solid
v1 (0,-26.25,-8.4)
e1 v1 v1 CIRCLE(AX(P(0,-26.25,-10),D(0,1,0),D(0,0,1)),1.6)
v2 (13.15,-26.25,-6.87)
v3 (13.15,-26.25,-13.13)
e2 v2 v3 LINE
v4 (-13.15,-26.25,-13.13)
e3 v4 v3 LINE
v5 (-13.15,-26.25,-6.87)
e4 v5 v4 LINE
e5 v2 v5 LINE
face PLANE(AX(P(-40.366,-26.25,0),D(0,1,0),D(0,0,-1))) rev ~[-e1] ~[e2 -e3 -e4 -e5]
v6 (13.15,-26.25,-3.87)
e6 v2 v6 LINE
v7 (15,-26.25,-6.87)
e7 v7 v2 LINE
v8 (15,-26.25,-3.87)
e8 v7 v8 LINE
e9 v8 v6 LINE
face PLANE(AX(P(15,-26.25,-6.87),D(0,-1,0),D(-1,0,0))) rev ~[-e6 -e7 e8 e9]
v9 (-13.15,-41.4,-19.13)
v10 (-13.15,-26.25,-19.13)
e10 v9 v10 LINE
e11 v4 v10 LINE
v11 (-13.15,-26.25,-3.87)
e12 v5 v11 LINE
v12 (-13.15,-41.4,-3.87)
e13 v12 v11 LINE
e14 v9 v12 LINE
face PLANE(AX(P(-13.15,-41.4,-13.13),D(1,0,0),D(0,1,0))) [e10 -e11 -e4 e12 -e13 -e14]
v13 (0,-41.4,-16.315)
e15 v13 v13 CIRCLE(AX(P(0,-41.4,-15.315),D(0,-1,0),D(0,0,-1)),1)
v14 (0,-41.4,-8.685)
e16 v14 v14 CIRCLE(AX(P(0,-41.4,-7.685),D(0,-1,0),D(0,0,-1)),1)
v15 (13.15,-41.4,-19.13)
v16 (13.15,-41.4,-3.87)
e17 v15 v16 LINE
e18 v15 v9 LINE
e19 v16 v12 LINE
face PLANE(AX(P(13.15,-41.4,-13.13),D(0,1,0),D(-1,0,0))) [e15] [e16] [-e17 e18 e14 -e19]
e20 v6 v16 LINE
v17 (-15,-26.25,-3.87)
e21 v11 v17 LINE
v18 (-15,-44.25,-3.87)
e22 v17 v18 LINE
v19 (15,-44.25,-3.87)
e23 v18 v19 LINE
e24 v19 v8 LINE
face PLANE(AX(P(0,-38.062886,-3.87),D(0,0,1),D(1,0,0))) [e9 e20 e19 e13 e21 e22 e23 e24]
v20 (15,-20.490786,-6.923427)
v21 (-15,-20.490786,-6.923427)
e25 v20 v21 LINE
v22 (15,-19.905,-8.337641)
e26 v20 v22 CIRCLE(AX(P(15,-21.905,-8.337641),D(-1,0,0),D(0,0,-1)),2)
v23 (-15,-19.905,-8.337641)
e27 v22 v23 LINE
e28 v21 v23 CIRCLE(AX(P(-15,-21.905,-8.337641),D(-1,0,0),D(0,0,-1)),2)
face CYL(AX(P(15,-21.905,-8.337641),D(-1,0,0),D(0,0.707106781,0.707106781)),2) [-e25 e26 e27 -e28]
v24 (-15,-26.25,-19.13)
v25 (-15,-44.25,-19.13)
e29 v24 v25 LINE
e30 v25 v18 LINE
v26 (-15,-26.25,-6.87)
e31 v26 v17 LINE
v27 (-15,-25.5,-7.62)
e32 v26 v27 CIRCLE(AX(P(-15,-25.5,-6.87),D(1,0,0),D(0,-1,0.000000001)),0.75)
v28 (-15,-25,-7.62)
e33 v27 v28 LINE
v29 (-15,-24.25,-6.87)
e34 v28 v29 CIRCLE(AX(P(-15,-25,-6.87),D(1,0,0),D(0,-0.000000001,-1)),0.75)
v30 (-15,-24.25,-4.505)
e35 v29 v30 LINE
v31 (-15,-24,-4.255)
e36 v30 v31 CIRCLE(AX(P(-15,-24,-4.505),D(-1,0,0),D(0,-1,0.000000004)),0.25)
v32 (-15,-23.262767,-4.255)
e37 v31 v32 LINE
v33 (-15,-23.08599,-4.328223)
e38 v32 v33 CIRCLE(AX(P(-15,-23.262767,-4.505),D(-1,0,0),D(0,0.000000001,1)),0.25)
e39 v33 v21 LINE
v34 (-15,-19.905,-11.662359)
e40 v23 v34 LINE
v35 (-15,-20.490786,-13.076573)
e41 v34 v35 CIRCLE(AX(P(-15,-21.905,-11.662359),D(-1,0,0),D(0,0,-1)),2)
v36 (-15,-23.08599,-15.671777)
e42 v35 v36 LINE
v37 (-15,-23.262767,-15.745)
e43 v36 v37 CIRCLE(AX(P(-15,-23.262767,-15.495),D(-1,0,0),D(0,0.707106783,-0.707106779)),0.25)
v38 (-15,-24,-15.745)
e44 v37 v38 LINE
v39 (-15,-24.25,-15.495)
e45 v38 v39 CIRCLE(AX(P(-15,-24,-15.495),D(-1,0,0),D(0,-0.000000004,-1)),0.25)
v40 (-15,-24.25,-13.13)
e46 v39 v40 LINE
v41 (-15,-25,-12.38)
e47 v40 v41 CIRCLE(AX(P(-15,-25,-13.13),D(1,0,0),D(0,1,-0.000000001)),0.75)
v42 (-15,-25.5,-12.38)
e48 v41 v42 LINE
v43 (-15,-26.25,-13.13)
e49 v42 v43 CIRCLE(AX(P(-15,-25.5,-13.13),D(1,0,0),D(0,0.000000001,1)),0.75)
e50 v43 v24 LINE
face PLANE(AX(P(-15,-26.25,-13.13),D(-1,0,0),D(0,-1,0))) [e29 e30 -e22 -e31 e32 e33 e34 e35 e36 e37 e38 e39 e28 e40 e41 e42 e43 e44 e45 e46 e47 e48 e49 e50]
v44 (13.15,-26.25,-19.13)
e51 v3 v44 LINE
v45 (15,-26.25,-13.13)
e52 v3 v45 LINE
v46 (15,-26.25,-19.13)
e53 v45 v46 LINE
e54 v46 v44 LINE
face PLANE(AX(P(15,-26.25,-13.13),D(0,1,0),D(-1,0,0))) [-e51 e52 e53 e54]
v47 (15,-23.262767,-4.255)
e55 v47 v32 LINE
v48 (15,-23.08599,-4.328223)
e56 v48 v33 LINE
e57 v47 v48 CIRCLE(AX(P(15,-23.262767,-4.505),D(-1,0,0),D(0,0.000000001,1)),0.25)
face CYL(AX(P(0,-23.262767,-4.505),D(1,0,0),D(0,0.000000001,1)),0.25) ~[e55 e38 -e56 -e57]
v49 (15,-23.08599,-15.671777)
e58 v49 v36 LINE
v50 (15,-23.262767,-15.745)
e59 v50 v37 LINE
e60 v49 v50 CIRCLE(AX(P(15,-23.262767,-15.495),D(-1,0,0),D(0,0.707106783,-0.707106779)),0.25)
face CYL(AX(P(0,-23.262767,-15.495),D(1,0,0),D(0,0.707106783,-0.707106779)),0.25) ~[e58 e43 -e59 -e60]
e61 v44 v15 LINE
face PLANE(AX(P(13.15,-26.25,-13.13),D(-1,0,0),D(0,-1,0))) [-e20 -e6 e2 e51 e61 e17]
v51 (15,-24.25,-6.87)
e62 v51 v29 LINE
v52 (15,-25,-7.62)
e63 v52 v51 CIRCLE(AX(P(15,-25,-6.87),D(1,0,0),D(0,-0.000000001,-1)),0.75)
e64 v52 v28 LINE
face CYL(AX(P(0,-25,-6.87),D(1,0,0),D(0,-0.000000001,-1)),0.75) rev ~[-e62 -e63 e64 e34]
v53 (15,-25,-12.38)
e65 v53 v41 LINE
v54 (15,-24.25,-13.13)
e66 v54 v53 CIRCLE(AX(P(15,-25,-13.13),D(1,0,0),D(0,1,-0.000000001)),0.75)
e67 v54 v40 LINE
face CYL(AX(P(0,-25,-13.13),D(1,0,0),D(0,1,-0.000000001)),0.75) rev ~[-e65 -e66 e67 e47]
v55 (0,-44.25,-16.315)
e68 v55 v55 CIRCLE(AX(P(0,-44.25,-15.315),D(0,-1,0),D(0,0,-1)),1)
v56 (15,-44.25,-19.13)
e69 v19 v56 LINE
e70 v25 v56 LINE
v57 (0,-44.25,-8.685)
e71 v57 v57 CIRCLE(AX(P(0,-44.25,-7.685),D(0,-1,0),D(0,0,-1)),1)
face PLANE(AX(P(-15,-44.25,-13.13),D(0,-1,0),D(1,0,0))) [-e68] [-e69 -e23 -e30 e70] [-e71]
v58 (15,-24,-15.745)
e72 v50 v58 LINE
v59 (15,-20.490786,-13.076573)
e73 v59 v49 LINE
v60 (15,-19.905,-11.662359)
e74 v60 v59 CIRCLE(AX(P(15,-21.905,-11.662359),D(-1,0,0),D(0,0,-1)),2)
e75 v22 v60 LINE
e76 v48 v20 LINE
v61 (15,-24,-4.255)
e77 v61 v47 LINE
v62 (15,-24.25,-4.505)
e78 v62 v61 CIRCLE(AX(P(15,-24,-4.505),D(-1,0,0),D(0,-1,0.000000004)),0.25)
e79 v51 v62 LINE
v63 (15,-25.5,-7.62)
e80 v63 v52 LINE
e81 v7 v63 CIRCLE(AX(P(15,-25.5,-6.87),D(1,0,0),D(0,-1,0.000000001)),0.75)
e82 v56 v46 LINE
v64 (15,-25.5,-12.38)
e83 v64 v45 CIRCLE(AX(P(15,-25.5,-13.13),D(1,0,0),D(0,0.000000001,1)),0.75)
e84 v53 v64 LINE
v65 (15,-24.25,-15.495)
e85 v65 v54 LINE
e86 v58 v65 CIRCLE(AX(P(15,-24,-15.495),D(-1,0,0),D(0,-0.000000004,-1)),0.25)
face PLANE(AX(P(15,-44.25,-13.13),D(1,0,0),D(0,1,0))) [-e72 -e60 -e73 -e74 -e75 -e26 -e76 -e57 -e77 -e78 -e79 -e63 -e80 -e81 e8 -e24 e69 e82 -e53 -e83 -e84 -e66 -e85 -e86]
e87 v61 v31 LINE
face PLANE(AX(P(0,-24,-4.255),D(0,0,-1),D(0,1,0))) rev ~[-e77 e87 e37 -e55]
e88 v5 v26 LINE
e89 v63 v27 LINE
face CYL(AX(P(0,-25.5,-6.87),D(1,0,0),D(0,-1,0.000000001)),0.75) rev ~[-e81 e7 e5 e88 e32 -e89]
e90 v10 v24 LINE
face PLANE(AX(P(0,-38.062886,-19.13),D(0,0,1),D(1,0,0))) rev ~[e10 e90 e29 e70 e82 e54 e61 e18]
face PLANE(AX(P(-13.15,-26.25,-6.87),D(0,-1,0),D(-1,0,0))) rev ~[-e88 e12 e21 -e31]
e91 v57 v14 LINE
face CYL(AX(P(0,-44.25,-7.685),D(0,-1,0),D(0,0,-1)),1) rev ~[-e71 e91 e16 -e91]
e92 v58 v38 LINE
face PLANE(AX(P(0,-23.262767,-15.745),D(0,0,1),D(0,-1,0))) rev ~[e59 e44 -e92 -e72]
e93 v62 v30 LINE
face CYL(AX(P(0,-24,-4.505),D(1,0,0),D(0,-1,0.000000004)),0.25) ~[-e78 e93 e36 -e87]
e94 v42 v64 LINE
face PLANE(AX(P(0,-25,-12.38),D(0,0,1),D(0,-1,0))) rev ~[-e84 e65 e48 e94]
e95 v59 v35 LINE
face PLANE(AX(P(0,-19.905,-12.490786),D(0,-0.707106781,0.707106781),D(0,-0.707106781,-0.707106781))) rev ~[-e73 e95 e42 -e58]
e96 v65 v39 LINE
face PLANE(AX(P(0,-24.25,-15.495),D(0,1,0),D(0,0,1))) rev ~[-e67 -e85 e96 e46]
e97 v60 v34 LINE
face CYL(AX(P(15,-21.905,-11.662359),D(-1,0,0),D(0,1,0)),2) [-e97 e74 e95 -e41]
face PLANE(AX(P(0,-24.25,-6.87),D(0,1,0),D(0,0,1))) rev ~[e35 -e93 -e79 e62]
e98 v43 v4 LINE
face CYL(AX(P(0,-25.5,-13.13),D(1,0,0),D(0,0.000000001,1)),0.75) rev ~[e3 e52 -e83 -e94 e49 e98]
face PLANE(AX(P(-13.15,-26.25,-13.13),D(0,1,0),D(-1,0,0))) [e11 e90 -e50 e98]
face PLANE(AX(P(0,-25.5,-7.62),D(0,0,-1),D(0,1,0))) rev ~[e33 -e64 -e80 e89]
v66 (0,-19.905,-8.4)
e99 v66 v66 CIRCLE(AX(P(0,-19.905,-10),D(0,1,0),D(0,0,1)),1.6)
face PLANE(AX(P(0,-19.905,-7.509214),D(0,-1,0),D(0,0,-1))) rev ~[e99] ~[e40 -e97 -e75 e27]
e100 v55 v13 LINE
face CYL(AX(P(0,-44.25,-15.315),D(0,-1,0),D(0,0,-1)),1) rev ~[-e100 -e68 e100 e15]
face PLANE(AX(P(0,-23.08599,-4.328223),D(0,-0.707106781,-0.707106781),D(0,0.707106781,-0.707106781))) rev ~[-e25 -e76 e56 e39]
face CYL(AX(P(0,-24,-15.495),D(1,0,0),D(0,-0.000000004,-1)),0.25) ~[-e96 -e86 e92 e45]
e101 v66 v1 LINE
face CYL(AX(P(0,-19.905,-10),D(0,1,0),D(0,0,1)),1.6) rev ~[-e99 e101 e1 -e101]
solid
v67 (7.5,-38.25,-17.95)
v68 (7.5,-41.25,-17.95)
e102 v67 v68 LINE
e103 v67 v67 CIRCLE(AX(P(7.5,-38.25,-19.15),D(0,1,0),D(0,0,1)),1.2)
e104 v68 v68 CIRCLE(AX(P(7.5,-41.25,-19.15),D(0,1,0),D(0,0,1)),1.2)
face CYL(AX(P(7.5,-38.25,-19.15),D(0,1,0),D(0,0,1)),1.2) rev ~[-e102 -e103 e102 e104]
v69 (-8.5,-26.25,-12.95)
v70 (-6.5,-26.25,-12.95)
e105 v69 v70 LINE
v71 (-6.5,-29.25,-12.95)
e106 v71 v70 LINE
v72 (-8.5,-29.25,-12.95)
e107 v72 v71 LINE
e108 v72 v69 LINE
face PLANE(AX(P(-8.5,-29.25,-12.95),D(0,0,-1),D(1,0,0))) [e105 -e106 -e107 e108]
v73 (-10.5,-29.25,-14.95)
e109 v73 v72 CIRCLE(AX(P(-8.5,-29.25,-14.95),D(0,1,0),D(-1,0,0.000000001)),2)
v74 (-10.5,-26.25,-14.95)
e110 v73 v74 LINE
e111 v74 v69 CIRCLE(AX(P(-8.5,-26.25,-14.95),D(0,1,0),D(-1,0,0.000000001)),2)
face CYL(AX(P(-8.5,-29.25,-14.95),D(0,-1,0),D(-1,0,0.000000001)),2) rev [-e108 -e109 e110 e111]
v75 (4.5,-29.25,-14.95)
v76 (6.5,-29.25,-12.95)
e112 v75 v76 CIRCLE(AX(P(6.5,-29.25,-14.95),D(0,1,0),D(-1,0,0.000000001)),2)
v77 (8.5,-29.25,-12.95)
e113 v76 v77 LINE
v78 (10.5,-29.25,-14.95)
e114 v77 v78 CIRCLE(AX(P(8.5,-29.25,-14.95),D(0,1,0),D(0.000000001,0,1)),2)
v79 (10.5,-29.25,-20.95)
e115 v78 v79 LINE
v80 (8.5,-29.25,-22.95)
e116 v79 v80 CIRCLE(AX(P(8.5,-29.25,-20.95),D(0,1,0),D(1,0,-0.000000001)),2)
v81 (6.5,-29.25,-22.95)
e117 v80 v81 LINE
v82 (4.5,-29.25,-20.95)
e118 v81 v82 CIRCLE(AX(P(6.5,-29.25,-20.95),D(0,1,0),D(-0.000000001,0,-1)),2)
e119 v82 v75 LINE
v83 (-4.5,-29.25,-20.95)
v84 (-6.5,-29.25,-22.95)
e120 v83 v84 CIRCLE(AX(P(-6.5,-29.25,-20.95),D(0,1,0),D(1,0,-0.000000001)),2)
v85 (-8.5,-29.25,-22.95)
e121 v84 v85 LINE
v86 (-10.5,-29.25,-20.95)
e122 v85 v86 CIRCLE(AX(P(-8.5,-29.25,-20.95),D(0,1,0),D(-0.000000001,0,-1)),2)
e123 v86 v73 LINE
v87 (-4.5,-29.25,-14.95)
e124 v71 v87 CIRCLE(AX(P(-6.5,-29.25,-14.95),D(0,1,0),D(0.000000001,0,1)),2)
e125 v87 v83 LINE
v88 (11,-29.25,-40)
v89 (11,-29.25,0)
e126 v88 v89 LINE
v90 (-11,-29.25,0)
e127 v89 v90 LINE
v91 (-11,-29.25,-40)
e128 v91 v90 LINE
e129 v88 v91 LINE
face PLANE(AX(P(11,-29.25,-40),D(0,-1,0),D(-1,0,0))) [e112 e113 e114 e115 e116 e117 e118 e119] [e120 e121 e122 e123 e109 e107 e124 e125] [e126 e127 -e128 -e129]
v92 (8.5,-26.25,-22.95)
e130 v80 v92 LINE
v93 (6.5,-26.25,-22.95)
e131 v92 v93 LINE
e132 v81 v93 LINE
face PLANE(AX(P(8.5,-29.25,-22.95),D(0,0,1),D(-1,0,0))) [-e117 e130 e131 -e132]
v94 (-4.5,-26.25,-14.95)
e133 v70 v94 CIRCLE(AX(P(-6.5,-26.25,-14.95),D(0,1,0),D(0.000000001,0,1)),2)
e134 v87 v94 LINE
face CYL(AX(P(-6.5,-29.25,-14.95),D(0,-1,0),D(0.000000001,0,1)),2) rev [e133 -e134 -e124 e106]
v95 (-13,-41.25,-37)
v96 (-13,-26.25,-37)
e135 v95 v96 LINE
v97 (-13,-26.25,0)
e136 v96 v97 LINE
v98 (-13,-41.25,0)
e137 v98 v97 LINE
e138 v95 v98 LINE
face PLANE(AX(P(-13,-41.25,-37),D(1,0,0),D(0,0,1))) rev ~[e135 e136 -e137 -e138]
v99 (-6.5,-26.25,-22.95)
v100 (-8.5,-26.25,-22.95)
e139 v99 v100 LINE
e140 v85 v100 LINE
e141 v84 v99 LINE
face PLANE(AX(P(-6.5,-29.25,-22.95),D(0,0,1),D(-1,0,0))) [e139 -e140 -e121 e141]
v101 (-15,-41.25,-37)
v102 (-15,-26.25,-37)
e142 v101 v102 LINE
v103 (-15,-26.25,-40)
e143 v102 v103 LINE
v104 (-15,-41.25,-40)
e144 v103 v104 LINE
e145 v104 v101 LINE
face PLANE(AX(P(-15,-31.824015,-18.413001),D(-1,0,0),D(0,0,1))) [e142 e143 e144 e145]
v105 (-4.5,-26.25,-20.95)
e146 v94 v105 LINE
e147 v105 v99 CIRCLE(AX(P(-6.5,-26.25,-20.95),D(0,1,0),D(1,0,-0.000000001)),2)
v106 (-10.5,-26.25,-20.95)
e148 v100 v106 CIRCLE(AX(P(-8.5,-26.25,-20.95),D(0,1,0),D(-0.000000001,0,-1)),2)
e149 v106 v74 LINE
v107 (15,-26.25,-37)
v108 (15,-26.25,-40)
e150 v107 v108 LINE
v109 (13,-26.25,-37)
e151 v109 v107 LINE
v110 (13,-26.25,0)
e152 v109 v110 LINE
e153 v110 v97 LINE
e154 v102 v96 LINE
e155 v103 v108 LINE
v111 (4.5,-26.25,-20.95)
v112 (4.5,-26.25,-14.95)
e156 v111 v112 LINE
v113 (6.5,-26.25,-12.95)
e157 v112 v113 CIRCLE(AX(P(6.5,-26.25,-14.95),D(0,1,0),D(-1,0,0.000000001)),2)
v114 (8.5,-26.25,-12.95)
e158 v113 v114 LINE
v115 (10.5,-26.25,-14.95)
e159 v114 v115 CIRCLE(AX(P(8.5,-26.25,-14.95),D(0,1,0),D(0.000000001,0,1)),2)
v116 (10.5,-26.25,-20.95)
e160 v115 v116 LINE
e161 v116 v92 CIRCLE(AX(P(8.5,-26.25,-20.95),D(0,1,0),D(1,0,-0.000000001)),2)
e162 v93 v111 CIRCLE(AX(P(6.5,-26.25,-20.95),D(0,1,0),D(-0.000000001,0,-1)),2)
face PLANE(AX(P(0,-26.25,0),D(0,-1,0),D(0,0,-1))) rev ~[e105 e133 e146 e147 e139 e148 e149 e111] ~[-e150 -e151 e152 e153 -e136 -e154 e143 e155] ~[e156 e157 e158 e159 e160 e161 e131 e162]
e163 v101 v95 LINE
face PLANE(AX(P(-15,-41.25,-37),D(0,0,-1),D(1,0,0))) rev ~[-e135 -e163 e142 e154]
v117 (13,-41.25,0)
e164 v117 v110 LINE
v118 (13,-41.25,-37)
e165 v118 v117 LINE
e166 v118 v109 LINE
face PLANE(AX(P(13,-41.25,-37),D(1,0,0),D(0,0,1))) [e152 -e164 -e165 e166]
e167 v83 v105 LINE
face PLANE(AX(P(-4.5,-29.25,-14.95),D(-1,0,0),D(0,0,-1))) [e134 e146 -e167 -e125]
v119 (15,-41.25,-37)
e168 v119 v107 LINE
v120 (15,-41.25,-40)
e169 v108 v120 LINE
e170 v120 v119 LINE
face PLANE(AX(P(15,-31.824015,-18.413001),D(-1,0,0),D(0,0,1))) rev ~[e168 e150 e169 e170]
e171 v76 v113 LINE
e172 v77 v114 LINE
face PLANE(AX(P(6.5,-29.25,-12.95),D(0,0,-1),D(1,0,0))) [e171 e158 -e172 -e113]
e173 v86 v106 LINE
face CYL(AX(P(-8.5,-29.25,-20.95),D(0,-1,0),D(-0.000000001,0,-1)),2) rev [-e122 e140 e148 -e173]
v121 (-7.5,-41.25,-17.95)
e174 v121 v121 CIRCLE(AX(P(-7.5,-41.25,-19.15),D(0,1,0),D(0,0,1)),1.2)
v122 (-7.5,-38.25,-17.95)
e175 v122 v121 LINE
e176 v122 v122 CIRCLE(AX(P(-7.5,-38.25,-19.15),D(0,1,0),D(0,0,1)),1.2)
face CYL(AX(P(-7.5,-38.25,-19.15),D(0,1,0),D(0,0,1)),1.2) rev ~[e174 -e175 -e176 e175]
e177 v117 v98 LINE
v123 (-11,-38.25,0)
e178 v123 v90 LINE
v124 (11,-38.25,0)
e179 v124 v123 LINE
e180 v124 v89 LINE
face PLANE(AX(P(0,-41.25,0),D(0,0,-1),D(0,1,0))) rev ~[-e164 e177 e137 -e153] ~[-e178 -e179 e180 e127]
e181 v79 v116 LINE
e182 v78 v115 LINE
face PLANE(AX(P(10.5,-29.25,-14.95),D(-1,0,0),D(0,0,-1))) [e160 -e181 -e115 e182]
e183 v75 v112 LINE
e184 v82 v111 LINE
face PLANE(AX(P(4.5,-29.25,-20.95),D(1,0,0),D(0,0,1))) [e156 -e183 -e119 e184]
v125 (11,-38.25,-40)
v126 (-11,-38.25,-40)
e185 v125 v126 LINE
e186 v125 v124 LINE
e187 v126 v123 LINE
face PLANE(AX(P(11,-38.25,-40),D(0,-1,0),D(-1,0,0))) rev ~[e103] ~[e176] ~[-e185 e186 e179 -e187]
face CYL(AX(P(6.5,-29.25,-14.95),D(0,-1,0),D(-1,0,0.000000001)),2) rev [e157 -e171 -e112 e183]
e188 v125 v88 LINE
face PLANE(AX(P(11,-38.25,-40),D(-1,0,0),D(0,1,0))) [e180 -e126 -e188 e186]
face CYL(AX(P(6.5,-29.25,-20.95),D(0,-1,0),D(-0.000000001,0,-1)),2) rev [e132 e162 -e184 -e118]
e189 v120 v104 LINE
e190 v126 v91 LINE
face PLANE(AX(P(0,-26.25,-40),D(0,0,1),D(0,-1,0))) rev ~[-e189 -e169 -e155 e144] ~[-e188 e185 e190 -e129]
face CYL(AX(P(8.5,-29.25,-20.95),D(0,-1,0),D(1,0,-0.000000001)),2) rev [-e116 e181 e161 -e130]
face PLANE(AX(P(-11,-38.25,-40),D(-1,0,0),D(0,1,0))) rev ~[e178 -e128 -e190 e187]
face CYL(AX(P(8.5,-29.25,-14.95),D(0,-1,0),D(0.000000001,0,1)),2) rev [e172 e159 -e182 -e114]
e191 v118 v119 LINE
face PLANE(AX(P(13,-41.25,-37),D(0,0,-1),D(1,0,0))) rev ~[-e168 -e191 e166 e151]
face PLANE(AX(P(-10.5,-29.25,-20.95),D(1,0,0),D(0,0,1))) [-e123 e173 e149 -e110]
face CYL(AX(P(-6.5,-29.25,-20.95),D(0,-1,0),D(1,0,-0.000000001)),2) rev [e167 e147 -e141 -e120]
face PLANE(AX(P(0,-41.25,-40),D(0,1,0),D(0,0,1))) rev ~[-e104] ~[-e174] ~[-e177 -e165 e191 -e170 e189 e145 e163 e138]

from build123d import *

# Parameters (mm, degrees)
BOSS_EXTRUDE1_DEPTH    = 15
SKETCH2_W              = 22
SKETCH2_H              = 9
CUT_EXTRUDE1_DEPTH     = 60.384867601
SKETCH4_R              = 1.2
CUT_EXTRUDE3_DEPTH     = 3
FILLET1_R              = 2
SPLIT1_SURFACE_1_BACK  = 55.366
SPLIT1_SURFACE_1_DEPTH = 110.732
SPLIT1_SURFACE_2_BACK  = 55.366
SPLIT1_SURFACE_2_DEPTH = 110.732
CUT_EXTRUDE2_START     = -29.25
CUT_EXTRUDE2_DEPTH     = 3
SKETCH6_R              = 1.6
CUT_EXTRUDE4_DEPTH     = 48.755722432
SKETCH10_W             = 2
SKETCH10_H             = 37
CUT_EXTRUDE6_DEPTH     = 15
BOSS_EXTRUDE2_START    = -6.87
BOSS_EXTRUDE2_DEPTH    = 6.26
BOSS_EXTRUDE4_DEPTH    = 3
BOSS_EXTRUDE5_START    = -6.26
BOSS_EXTRUDE5_DEPTH    = 6
SKETCH12_R             = 1
CUT_EXTRUDE7_DEPTH     = 2.85


with BuildPart() as part:
    # Sketch1 → Boss-Extrude1 (new, symmetric)
    with BuildSketch(Plane(origin=(0, 0, 0), x_dir=(0, 0, -1), z_dir=(1, 0, 0))):
        with BuildLine():
            Line((19.5, -26.25), (40, -26.25))
            Line((40, -26.25), (40, -41.25))
            Line((40, -41.25), (0, -41.25))
            Line((0, -41.25), (0, -26.25))
            Line((0, -26.25), (0.5, -26.25))
            Line((0.5, -26.25), (6.87, -26.25))
            ThreePointArc((6.87, -26.25), (7.400330086, -26.030330086), (7.62, -25.5))
            Line((7.62, -25.5), (7.62, -25))
            ThreePointArc((7.62, -25), (7.400330086, -24.469669914), (6.87, -24.25))
            Line((6.87, -24.25), (4.505, -24.25))
            ThreePointArc((4.505, -24.25), (4.328223305, -24.176776695), (4.255, -24))
            Line((4.255, -24), (4.255, -23.262766953))
            ThreePointArc((4.255, -23.262766953), (4.274030117, -23.167096095), (4.328223305, -23.085990258))
            Line((4.328223305, -23.085990258), (7.509213562, -19.905))
            Line((7.509213562, -19.905), (12.490786438, -19.905))
            Line((12.490786438, -19.905), (15.671776695, -23.085990258))
            ThreePointArc((15.671776695, -23.085990258), (15.725969883, -23.167096095), (15.745, -23.262766953))
            Line((15.745, -23.262766953), (15.745, -24))
            ThreePointArc((15.745, -24), (15.671776695, -24.176776695), (15.495, -24.25))
            Line((15.495, -24.25), (13.13, -24.25))
            ThreePointArc((13.13, -24.25), (12.599669914, -24.469669914), (12.38, -25))
            Line((12.38, -25), (12.38, -25.5))
            ThreePointArc((12.38, -25.5), (12.599669914, -26.030330086), (13.13, -26.25))
            Line((13.13, -26.25), (19.5, -26.25))
        make_face()
    extrude(amount=BOSS_EXTRUDE1_DEPTH, both=True)

    # Sketch2 → Cut-Extrude1 (cut, through all)
    with BuildSketch(Plane(origin=(0, 0, -40), x_dir=(-1, 0, 0), z_dir=(0, 0, -1))):
        with Locations((0, -33.75)):
            Rectangle(SKETCH2_W, SKETCH2_H)
    extrude(amount=-CUT_EXTRUDE1_DEPTH, mode=Mode.SUBTRACT)

    # Sketch4 → Cut-Extrude3 (cut)
    with BuildSketch(Plane(origin=(0, -38.25, 0), x_dir=(1, 0, 0), z_dir=(0, 1, 0))):
        with Locations(Location((-7.5, 19.15, 0), (0, 0, 270))):
            Circle(SKETCH4_R)
        with Locations(Location((7.5, 19.15, 0), (0, 0, 270))):
            Circle(SKETCH4_R)
    extrude(amount=-CUT_EXTRUDE3_DEPTH, mode=Mode.SUBTRACT)

    # Fillet1
    fillet1_edges = [part.edges().sort_by_distance(p)[0] for p in [
        (0, -19.905, -7.509213562),
        (0, -19.905, -12.490786438),
    ]]
    fillet(fillet1_edges, radius=FILLET1_R)


with BuildPart() as body_2:
    # Split1: the piece behind the surface
    add(part.part)
    # Split1 surface: a surface, the sketch's curves swept straight by 110.732 mm
    with BuildLine(Plane(origin=(15, 0, 0), x_dir=(0, 0, -1), z_dir=(1, 0, 0)).offset(-SPLIT1_SURFACE_1_BACK), mode=Mode.PRIVATE) as split1_surface_1_path:
        Line((0, -26.25), (40, -26.25))
    split1_surface_1 = Shell.extrude(split1_surface_1_path.wire(), (1 * SPLIT1_SURFACE_1_DEPTH, 0 * SPLIT1_SURFACE_1_DEPTH, 0 * SPLIT1_SURFACE_1_DEPTH))
    split(bisect_by=split1_surface_1, keep=Keep.BOTTOM)

    # Sketch3 → Cut-Extrude2 (cut)
    with BuildSketch(Plane(origin=(0, 0, 0), x_dir=(1, 0, 0), z_dir=(0, 1, 0)).offset(CUT_EXTRUDE2_START)):
        with BuildLine():
            Line((-10.5, 20.95), (-10.5, 14.95))
            ThreePointArc((-10.5, 14.95), (-9.914213562, 13.535786438), (-8.5, 12.95))
            Line((-8.5, 12.95), (-6.5, 12.95))
            ThreePointArc((-6.5, 12.95), (-5.085786438, 13.535786438), (-4.5, 14.95))
            Line((-4.5, 14.95), (-4.5, 20.95))
            ThreePointArc((-4.5, 20.95), (-5.085786438, 22.364213562), (-6.5, 22.95))
            Line((-6.5, 22.95), (-8.5, 22.95))
            ThreePointArc((-8.5, 22.95), (-9.914213562, 22.364213562), (-10.5, 20.95))
        make_face()
        with BuildLine():
            Line((10.5, 14.95), (10.5, 20.95))
            ThreePointArc((10.5, 20.95), (9.914213562, 22.364213562), (8.5, 22.95))
            Line((8.5, 22.95), (6.5, 22.95))
            ThreePointArc((6.5, 22.95), (5.085786438, 22.364213562), (4.5, 20.95))
            Line((4.5, 20.95), (4.5, 14.95))
            ThreePointArc((4.5, 14.95), (5.085786438, 13.535786438), (6.5, 12.95))
            Line((6.5, 12.95), (8.5, 12.95))
            ThreePointArc((8.5, 12.95), (9.914213562, 13.535786438), (10.5, 14.95))
        make_face()
    extrude(amount=CUT_EXTRUDE2_DEPTH, mode=Mode.SUBTRACT)

    # Sketch10 → Cut-Extrude6 (cut)
    with BuildSketch(Plane.XZ.offset(41.25)):
        with Locations((-14, -18.5)):
            Rectangle(SKETCH10_W, SKETCH10_H)
        with Locations((14, -18.5)):
            Rectangle(SKETCH10_W, SKETCH10_H)
    extrude(amount=-CUT_EXTRUDE6_DEPTH, mode=Mode.SUBTRACT)


with BuildPart() as part_1:
    add(part.part)

    # Split1: split by a surface, the side it looks to stays
    # Split1 surface: a surface, the sketch's curves swept straight by 110.732 mm
    with BuildLine(Plane(origin=(15, 0, 0), x_dir=(0, 0, -1), z_dir=(1, 0, 0)).offset(-SPLIT1_SURFACE_2_BACK), mode=Mode.PRIVATE) as split1_surface_2_path:
        Line((0, -26.25), (40, -26.25))
    split1_surface_2 = Shell.extrude(split1_surface_2_path.wire(), (1 * SPLIT1_SURFACE_2_DEPTH, 0 * SPLIT1_SURFACE_2_DEPTH, 0 * SPLIT1_SURFACE_2_DEPTH))
    split(bisect_by=split1_surface_2, keep=Keep.TOP)

    # Sketch6 → Cut-Extrude4 (cut, through all)
    with BuildSketch(Plane(origin=(0, -19.905, 0), x_dir=(1, 0, 0), z_dir=(0, 1, 0))):
        with Locations(Location((0, 10, 0), (0, 0, 270))):
            Circle(SKETCH6_R)
    extrude(amount=-CUT_EXTRUDE4_DEPTH, mode=Mode.SUBTRACT)

    # Sketch11 → Boss-Extrude2 (add)
    with BuildSketch(Plane.XY.offset(BOSS_EXTRUDE2_START)):
        Polygon((-13.15, -26.25), (-15, -26.25), (-15, -44.25), (15, -44.25), (15, -26.25), (13.15, -26.25), (13.15, -41.4), (-13.15, -41.4), align=None)
    extrude(amount=-BOSS_EXTRUDE2_DEPTH)

    # Sketch13 → Boss-Extrude4 (add)
    with BuildSketch(Plane.XY.offset(-6.87)):
        Polygon((13.15, -26.25), (13.15, -41.4), (-13.15, -41.4), (-13.15, -26.25), (-15, -26.25), (-15, -44.25), (15, -44.25), (15, -26.25), align=None)
    extrude(amount=BOSS_EXTRUDE4_DEPTH)

    # Sketch13<2> → Boss-Extrude5 (add)
    with BuildSketch(Plane.XY.offset(-6.87).offset(BOSS_EXTRUDE5_START)):
        Polygon((13.15, -26.25), (13.15, -41.4), (-13.15, -41.4), (-13.15, -26.25), (-15, -26.25), (-15, -44.25), (15, -44.25), (15, -26.25), align=None)
    extrude(amount=-BOSS_EXTRUDE5_DEPTH)

    # Sketch12 → Cut-Extrude7 (cut)
    with BuildSketch(Plane.XZ.offset(44.25)):
        with Locations(Location((0, -7.685, 0), (0, 0, 270))):
            Circle(SKETCH12_R)
        with Locations(Location((0, -15.315, 0), (0, 0, 270))):
            Circle(SKETCH12_R)
    extrude(amount=-CUT_EXTRUDE7_DEPTH, mode=Mode.SUBTRACT)


solid = Compound([body_2.part, part_1.part])
